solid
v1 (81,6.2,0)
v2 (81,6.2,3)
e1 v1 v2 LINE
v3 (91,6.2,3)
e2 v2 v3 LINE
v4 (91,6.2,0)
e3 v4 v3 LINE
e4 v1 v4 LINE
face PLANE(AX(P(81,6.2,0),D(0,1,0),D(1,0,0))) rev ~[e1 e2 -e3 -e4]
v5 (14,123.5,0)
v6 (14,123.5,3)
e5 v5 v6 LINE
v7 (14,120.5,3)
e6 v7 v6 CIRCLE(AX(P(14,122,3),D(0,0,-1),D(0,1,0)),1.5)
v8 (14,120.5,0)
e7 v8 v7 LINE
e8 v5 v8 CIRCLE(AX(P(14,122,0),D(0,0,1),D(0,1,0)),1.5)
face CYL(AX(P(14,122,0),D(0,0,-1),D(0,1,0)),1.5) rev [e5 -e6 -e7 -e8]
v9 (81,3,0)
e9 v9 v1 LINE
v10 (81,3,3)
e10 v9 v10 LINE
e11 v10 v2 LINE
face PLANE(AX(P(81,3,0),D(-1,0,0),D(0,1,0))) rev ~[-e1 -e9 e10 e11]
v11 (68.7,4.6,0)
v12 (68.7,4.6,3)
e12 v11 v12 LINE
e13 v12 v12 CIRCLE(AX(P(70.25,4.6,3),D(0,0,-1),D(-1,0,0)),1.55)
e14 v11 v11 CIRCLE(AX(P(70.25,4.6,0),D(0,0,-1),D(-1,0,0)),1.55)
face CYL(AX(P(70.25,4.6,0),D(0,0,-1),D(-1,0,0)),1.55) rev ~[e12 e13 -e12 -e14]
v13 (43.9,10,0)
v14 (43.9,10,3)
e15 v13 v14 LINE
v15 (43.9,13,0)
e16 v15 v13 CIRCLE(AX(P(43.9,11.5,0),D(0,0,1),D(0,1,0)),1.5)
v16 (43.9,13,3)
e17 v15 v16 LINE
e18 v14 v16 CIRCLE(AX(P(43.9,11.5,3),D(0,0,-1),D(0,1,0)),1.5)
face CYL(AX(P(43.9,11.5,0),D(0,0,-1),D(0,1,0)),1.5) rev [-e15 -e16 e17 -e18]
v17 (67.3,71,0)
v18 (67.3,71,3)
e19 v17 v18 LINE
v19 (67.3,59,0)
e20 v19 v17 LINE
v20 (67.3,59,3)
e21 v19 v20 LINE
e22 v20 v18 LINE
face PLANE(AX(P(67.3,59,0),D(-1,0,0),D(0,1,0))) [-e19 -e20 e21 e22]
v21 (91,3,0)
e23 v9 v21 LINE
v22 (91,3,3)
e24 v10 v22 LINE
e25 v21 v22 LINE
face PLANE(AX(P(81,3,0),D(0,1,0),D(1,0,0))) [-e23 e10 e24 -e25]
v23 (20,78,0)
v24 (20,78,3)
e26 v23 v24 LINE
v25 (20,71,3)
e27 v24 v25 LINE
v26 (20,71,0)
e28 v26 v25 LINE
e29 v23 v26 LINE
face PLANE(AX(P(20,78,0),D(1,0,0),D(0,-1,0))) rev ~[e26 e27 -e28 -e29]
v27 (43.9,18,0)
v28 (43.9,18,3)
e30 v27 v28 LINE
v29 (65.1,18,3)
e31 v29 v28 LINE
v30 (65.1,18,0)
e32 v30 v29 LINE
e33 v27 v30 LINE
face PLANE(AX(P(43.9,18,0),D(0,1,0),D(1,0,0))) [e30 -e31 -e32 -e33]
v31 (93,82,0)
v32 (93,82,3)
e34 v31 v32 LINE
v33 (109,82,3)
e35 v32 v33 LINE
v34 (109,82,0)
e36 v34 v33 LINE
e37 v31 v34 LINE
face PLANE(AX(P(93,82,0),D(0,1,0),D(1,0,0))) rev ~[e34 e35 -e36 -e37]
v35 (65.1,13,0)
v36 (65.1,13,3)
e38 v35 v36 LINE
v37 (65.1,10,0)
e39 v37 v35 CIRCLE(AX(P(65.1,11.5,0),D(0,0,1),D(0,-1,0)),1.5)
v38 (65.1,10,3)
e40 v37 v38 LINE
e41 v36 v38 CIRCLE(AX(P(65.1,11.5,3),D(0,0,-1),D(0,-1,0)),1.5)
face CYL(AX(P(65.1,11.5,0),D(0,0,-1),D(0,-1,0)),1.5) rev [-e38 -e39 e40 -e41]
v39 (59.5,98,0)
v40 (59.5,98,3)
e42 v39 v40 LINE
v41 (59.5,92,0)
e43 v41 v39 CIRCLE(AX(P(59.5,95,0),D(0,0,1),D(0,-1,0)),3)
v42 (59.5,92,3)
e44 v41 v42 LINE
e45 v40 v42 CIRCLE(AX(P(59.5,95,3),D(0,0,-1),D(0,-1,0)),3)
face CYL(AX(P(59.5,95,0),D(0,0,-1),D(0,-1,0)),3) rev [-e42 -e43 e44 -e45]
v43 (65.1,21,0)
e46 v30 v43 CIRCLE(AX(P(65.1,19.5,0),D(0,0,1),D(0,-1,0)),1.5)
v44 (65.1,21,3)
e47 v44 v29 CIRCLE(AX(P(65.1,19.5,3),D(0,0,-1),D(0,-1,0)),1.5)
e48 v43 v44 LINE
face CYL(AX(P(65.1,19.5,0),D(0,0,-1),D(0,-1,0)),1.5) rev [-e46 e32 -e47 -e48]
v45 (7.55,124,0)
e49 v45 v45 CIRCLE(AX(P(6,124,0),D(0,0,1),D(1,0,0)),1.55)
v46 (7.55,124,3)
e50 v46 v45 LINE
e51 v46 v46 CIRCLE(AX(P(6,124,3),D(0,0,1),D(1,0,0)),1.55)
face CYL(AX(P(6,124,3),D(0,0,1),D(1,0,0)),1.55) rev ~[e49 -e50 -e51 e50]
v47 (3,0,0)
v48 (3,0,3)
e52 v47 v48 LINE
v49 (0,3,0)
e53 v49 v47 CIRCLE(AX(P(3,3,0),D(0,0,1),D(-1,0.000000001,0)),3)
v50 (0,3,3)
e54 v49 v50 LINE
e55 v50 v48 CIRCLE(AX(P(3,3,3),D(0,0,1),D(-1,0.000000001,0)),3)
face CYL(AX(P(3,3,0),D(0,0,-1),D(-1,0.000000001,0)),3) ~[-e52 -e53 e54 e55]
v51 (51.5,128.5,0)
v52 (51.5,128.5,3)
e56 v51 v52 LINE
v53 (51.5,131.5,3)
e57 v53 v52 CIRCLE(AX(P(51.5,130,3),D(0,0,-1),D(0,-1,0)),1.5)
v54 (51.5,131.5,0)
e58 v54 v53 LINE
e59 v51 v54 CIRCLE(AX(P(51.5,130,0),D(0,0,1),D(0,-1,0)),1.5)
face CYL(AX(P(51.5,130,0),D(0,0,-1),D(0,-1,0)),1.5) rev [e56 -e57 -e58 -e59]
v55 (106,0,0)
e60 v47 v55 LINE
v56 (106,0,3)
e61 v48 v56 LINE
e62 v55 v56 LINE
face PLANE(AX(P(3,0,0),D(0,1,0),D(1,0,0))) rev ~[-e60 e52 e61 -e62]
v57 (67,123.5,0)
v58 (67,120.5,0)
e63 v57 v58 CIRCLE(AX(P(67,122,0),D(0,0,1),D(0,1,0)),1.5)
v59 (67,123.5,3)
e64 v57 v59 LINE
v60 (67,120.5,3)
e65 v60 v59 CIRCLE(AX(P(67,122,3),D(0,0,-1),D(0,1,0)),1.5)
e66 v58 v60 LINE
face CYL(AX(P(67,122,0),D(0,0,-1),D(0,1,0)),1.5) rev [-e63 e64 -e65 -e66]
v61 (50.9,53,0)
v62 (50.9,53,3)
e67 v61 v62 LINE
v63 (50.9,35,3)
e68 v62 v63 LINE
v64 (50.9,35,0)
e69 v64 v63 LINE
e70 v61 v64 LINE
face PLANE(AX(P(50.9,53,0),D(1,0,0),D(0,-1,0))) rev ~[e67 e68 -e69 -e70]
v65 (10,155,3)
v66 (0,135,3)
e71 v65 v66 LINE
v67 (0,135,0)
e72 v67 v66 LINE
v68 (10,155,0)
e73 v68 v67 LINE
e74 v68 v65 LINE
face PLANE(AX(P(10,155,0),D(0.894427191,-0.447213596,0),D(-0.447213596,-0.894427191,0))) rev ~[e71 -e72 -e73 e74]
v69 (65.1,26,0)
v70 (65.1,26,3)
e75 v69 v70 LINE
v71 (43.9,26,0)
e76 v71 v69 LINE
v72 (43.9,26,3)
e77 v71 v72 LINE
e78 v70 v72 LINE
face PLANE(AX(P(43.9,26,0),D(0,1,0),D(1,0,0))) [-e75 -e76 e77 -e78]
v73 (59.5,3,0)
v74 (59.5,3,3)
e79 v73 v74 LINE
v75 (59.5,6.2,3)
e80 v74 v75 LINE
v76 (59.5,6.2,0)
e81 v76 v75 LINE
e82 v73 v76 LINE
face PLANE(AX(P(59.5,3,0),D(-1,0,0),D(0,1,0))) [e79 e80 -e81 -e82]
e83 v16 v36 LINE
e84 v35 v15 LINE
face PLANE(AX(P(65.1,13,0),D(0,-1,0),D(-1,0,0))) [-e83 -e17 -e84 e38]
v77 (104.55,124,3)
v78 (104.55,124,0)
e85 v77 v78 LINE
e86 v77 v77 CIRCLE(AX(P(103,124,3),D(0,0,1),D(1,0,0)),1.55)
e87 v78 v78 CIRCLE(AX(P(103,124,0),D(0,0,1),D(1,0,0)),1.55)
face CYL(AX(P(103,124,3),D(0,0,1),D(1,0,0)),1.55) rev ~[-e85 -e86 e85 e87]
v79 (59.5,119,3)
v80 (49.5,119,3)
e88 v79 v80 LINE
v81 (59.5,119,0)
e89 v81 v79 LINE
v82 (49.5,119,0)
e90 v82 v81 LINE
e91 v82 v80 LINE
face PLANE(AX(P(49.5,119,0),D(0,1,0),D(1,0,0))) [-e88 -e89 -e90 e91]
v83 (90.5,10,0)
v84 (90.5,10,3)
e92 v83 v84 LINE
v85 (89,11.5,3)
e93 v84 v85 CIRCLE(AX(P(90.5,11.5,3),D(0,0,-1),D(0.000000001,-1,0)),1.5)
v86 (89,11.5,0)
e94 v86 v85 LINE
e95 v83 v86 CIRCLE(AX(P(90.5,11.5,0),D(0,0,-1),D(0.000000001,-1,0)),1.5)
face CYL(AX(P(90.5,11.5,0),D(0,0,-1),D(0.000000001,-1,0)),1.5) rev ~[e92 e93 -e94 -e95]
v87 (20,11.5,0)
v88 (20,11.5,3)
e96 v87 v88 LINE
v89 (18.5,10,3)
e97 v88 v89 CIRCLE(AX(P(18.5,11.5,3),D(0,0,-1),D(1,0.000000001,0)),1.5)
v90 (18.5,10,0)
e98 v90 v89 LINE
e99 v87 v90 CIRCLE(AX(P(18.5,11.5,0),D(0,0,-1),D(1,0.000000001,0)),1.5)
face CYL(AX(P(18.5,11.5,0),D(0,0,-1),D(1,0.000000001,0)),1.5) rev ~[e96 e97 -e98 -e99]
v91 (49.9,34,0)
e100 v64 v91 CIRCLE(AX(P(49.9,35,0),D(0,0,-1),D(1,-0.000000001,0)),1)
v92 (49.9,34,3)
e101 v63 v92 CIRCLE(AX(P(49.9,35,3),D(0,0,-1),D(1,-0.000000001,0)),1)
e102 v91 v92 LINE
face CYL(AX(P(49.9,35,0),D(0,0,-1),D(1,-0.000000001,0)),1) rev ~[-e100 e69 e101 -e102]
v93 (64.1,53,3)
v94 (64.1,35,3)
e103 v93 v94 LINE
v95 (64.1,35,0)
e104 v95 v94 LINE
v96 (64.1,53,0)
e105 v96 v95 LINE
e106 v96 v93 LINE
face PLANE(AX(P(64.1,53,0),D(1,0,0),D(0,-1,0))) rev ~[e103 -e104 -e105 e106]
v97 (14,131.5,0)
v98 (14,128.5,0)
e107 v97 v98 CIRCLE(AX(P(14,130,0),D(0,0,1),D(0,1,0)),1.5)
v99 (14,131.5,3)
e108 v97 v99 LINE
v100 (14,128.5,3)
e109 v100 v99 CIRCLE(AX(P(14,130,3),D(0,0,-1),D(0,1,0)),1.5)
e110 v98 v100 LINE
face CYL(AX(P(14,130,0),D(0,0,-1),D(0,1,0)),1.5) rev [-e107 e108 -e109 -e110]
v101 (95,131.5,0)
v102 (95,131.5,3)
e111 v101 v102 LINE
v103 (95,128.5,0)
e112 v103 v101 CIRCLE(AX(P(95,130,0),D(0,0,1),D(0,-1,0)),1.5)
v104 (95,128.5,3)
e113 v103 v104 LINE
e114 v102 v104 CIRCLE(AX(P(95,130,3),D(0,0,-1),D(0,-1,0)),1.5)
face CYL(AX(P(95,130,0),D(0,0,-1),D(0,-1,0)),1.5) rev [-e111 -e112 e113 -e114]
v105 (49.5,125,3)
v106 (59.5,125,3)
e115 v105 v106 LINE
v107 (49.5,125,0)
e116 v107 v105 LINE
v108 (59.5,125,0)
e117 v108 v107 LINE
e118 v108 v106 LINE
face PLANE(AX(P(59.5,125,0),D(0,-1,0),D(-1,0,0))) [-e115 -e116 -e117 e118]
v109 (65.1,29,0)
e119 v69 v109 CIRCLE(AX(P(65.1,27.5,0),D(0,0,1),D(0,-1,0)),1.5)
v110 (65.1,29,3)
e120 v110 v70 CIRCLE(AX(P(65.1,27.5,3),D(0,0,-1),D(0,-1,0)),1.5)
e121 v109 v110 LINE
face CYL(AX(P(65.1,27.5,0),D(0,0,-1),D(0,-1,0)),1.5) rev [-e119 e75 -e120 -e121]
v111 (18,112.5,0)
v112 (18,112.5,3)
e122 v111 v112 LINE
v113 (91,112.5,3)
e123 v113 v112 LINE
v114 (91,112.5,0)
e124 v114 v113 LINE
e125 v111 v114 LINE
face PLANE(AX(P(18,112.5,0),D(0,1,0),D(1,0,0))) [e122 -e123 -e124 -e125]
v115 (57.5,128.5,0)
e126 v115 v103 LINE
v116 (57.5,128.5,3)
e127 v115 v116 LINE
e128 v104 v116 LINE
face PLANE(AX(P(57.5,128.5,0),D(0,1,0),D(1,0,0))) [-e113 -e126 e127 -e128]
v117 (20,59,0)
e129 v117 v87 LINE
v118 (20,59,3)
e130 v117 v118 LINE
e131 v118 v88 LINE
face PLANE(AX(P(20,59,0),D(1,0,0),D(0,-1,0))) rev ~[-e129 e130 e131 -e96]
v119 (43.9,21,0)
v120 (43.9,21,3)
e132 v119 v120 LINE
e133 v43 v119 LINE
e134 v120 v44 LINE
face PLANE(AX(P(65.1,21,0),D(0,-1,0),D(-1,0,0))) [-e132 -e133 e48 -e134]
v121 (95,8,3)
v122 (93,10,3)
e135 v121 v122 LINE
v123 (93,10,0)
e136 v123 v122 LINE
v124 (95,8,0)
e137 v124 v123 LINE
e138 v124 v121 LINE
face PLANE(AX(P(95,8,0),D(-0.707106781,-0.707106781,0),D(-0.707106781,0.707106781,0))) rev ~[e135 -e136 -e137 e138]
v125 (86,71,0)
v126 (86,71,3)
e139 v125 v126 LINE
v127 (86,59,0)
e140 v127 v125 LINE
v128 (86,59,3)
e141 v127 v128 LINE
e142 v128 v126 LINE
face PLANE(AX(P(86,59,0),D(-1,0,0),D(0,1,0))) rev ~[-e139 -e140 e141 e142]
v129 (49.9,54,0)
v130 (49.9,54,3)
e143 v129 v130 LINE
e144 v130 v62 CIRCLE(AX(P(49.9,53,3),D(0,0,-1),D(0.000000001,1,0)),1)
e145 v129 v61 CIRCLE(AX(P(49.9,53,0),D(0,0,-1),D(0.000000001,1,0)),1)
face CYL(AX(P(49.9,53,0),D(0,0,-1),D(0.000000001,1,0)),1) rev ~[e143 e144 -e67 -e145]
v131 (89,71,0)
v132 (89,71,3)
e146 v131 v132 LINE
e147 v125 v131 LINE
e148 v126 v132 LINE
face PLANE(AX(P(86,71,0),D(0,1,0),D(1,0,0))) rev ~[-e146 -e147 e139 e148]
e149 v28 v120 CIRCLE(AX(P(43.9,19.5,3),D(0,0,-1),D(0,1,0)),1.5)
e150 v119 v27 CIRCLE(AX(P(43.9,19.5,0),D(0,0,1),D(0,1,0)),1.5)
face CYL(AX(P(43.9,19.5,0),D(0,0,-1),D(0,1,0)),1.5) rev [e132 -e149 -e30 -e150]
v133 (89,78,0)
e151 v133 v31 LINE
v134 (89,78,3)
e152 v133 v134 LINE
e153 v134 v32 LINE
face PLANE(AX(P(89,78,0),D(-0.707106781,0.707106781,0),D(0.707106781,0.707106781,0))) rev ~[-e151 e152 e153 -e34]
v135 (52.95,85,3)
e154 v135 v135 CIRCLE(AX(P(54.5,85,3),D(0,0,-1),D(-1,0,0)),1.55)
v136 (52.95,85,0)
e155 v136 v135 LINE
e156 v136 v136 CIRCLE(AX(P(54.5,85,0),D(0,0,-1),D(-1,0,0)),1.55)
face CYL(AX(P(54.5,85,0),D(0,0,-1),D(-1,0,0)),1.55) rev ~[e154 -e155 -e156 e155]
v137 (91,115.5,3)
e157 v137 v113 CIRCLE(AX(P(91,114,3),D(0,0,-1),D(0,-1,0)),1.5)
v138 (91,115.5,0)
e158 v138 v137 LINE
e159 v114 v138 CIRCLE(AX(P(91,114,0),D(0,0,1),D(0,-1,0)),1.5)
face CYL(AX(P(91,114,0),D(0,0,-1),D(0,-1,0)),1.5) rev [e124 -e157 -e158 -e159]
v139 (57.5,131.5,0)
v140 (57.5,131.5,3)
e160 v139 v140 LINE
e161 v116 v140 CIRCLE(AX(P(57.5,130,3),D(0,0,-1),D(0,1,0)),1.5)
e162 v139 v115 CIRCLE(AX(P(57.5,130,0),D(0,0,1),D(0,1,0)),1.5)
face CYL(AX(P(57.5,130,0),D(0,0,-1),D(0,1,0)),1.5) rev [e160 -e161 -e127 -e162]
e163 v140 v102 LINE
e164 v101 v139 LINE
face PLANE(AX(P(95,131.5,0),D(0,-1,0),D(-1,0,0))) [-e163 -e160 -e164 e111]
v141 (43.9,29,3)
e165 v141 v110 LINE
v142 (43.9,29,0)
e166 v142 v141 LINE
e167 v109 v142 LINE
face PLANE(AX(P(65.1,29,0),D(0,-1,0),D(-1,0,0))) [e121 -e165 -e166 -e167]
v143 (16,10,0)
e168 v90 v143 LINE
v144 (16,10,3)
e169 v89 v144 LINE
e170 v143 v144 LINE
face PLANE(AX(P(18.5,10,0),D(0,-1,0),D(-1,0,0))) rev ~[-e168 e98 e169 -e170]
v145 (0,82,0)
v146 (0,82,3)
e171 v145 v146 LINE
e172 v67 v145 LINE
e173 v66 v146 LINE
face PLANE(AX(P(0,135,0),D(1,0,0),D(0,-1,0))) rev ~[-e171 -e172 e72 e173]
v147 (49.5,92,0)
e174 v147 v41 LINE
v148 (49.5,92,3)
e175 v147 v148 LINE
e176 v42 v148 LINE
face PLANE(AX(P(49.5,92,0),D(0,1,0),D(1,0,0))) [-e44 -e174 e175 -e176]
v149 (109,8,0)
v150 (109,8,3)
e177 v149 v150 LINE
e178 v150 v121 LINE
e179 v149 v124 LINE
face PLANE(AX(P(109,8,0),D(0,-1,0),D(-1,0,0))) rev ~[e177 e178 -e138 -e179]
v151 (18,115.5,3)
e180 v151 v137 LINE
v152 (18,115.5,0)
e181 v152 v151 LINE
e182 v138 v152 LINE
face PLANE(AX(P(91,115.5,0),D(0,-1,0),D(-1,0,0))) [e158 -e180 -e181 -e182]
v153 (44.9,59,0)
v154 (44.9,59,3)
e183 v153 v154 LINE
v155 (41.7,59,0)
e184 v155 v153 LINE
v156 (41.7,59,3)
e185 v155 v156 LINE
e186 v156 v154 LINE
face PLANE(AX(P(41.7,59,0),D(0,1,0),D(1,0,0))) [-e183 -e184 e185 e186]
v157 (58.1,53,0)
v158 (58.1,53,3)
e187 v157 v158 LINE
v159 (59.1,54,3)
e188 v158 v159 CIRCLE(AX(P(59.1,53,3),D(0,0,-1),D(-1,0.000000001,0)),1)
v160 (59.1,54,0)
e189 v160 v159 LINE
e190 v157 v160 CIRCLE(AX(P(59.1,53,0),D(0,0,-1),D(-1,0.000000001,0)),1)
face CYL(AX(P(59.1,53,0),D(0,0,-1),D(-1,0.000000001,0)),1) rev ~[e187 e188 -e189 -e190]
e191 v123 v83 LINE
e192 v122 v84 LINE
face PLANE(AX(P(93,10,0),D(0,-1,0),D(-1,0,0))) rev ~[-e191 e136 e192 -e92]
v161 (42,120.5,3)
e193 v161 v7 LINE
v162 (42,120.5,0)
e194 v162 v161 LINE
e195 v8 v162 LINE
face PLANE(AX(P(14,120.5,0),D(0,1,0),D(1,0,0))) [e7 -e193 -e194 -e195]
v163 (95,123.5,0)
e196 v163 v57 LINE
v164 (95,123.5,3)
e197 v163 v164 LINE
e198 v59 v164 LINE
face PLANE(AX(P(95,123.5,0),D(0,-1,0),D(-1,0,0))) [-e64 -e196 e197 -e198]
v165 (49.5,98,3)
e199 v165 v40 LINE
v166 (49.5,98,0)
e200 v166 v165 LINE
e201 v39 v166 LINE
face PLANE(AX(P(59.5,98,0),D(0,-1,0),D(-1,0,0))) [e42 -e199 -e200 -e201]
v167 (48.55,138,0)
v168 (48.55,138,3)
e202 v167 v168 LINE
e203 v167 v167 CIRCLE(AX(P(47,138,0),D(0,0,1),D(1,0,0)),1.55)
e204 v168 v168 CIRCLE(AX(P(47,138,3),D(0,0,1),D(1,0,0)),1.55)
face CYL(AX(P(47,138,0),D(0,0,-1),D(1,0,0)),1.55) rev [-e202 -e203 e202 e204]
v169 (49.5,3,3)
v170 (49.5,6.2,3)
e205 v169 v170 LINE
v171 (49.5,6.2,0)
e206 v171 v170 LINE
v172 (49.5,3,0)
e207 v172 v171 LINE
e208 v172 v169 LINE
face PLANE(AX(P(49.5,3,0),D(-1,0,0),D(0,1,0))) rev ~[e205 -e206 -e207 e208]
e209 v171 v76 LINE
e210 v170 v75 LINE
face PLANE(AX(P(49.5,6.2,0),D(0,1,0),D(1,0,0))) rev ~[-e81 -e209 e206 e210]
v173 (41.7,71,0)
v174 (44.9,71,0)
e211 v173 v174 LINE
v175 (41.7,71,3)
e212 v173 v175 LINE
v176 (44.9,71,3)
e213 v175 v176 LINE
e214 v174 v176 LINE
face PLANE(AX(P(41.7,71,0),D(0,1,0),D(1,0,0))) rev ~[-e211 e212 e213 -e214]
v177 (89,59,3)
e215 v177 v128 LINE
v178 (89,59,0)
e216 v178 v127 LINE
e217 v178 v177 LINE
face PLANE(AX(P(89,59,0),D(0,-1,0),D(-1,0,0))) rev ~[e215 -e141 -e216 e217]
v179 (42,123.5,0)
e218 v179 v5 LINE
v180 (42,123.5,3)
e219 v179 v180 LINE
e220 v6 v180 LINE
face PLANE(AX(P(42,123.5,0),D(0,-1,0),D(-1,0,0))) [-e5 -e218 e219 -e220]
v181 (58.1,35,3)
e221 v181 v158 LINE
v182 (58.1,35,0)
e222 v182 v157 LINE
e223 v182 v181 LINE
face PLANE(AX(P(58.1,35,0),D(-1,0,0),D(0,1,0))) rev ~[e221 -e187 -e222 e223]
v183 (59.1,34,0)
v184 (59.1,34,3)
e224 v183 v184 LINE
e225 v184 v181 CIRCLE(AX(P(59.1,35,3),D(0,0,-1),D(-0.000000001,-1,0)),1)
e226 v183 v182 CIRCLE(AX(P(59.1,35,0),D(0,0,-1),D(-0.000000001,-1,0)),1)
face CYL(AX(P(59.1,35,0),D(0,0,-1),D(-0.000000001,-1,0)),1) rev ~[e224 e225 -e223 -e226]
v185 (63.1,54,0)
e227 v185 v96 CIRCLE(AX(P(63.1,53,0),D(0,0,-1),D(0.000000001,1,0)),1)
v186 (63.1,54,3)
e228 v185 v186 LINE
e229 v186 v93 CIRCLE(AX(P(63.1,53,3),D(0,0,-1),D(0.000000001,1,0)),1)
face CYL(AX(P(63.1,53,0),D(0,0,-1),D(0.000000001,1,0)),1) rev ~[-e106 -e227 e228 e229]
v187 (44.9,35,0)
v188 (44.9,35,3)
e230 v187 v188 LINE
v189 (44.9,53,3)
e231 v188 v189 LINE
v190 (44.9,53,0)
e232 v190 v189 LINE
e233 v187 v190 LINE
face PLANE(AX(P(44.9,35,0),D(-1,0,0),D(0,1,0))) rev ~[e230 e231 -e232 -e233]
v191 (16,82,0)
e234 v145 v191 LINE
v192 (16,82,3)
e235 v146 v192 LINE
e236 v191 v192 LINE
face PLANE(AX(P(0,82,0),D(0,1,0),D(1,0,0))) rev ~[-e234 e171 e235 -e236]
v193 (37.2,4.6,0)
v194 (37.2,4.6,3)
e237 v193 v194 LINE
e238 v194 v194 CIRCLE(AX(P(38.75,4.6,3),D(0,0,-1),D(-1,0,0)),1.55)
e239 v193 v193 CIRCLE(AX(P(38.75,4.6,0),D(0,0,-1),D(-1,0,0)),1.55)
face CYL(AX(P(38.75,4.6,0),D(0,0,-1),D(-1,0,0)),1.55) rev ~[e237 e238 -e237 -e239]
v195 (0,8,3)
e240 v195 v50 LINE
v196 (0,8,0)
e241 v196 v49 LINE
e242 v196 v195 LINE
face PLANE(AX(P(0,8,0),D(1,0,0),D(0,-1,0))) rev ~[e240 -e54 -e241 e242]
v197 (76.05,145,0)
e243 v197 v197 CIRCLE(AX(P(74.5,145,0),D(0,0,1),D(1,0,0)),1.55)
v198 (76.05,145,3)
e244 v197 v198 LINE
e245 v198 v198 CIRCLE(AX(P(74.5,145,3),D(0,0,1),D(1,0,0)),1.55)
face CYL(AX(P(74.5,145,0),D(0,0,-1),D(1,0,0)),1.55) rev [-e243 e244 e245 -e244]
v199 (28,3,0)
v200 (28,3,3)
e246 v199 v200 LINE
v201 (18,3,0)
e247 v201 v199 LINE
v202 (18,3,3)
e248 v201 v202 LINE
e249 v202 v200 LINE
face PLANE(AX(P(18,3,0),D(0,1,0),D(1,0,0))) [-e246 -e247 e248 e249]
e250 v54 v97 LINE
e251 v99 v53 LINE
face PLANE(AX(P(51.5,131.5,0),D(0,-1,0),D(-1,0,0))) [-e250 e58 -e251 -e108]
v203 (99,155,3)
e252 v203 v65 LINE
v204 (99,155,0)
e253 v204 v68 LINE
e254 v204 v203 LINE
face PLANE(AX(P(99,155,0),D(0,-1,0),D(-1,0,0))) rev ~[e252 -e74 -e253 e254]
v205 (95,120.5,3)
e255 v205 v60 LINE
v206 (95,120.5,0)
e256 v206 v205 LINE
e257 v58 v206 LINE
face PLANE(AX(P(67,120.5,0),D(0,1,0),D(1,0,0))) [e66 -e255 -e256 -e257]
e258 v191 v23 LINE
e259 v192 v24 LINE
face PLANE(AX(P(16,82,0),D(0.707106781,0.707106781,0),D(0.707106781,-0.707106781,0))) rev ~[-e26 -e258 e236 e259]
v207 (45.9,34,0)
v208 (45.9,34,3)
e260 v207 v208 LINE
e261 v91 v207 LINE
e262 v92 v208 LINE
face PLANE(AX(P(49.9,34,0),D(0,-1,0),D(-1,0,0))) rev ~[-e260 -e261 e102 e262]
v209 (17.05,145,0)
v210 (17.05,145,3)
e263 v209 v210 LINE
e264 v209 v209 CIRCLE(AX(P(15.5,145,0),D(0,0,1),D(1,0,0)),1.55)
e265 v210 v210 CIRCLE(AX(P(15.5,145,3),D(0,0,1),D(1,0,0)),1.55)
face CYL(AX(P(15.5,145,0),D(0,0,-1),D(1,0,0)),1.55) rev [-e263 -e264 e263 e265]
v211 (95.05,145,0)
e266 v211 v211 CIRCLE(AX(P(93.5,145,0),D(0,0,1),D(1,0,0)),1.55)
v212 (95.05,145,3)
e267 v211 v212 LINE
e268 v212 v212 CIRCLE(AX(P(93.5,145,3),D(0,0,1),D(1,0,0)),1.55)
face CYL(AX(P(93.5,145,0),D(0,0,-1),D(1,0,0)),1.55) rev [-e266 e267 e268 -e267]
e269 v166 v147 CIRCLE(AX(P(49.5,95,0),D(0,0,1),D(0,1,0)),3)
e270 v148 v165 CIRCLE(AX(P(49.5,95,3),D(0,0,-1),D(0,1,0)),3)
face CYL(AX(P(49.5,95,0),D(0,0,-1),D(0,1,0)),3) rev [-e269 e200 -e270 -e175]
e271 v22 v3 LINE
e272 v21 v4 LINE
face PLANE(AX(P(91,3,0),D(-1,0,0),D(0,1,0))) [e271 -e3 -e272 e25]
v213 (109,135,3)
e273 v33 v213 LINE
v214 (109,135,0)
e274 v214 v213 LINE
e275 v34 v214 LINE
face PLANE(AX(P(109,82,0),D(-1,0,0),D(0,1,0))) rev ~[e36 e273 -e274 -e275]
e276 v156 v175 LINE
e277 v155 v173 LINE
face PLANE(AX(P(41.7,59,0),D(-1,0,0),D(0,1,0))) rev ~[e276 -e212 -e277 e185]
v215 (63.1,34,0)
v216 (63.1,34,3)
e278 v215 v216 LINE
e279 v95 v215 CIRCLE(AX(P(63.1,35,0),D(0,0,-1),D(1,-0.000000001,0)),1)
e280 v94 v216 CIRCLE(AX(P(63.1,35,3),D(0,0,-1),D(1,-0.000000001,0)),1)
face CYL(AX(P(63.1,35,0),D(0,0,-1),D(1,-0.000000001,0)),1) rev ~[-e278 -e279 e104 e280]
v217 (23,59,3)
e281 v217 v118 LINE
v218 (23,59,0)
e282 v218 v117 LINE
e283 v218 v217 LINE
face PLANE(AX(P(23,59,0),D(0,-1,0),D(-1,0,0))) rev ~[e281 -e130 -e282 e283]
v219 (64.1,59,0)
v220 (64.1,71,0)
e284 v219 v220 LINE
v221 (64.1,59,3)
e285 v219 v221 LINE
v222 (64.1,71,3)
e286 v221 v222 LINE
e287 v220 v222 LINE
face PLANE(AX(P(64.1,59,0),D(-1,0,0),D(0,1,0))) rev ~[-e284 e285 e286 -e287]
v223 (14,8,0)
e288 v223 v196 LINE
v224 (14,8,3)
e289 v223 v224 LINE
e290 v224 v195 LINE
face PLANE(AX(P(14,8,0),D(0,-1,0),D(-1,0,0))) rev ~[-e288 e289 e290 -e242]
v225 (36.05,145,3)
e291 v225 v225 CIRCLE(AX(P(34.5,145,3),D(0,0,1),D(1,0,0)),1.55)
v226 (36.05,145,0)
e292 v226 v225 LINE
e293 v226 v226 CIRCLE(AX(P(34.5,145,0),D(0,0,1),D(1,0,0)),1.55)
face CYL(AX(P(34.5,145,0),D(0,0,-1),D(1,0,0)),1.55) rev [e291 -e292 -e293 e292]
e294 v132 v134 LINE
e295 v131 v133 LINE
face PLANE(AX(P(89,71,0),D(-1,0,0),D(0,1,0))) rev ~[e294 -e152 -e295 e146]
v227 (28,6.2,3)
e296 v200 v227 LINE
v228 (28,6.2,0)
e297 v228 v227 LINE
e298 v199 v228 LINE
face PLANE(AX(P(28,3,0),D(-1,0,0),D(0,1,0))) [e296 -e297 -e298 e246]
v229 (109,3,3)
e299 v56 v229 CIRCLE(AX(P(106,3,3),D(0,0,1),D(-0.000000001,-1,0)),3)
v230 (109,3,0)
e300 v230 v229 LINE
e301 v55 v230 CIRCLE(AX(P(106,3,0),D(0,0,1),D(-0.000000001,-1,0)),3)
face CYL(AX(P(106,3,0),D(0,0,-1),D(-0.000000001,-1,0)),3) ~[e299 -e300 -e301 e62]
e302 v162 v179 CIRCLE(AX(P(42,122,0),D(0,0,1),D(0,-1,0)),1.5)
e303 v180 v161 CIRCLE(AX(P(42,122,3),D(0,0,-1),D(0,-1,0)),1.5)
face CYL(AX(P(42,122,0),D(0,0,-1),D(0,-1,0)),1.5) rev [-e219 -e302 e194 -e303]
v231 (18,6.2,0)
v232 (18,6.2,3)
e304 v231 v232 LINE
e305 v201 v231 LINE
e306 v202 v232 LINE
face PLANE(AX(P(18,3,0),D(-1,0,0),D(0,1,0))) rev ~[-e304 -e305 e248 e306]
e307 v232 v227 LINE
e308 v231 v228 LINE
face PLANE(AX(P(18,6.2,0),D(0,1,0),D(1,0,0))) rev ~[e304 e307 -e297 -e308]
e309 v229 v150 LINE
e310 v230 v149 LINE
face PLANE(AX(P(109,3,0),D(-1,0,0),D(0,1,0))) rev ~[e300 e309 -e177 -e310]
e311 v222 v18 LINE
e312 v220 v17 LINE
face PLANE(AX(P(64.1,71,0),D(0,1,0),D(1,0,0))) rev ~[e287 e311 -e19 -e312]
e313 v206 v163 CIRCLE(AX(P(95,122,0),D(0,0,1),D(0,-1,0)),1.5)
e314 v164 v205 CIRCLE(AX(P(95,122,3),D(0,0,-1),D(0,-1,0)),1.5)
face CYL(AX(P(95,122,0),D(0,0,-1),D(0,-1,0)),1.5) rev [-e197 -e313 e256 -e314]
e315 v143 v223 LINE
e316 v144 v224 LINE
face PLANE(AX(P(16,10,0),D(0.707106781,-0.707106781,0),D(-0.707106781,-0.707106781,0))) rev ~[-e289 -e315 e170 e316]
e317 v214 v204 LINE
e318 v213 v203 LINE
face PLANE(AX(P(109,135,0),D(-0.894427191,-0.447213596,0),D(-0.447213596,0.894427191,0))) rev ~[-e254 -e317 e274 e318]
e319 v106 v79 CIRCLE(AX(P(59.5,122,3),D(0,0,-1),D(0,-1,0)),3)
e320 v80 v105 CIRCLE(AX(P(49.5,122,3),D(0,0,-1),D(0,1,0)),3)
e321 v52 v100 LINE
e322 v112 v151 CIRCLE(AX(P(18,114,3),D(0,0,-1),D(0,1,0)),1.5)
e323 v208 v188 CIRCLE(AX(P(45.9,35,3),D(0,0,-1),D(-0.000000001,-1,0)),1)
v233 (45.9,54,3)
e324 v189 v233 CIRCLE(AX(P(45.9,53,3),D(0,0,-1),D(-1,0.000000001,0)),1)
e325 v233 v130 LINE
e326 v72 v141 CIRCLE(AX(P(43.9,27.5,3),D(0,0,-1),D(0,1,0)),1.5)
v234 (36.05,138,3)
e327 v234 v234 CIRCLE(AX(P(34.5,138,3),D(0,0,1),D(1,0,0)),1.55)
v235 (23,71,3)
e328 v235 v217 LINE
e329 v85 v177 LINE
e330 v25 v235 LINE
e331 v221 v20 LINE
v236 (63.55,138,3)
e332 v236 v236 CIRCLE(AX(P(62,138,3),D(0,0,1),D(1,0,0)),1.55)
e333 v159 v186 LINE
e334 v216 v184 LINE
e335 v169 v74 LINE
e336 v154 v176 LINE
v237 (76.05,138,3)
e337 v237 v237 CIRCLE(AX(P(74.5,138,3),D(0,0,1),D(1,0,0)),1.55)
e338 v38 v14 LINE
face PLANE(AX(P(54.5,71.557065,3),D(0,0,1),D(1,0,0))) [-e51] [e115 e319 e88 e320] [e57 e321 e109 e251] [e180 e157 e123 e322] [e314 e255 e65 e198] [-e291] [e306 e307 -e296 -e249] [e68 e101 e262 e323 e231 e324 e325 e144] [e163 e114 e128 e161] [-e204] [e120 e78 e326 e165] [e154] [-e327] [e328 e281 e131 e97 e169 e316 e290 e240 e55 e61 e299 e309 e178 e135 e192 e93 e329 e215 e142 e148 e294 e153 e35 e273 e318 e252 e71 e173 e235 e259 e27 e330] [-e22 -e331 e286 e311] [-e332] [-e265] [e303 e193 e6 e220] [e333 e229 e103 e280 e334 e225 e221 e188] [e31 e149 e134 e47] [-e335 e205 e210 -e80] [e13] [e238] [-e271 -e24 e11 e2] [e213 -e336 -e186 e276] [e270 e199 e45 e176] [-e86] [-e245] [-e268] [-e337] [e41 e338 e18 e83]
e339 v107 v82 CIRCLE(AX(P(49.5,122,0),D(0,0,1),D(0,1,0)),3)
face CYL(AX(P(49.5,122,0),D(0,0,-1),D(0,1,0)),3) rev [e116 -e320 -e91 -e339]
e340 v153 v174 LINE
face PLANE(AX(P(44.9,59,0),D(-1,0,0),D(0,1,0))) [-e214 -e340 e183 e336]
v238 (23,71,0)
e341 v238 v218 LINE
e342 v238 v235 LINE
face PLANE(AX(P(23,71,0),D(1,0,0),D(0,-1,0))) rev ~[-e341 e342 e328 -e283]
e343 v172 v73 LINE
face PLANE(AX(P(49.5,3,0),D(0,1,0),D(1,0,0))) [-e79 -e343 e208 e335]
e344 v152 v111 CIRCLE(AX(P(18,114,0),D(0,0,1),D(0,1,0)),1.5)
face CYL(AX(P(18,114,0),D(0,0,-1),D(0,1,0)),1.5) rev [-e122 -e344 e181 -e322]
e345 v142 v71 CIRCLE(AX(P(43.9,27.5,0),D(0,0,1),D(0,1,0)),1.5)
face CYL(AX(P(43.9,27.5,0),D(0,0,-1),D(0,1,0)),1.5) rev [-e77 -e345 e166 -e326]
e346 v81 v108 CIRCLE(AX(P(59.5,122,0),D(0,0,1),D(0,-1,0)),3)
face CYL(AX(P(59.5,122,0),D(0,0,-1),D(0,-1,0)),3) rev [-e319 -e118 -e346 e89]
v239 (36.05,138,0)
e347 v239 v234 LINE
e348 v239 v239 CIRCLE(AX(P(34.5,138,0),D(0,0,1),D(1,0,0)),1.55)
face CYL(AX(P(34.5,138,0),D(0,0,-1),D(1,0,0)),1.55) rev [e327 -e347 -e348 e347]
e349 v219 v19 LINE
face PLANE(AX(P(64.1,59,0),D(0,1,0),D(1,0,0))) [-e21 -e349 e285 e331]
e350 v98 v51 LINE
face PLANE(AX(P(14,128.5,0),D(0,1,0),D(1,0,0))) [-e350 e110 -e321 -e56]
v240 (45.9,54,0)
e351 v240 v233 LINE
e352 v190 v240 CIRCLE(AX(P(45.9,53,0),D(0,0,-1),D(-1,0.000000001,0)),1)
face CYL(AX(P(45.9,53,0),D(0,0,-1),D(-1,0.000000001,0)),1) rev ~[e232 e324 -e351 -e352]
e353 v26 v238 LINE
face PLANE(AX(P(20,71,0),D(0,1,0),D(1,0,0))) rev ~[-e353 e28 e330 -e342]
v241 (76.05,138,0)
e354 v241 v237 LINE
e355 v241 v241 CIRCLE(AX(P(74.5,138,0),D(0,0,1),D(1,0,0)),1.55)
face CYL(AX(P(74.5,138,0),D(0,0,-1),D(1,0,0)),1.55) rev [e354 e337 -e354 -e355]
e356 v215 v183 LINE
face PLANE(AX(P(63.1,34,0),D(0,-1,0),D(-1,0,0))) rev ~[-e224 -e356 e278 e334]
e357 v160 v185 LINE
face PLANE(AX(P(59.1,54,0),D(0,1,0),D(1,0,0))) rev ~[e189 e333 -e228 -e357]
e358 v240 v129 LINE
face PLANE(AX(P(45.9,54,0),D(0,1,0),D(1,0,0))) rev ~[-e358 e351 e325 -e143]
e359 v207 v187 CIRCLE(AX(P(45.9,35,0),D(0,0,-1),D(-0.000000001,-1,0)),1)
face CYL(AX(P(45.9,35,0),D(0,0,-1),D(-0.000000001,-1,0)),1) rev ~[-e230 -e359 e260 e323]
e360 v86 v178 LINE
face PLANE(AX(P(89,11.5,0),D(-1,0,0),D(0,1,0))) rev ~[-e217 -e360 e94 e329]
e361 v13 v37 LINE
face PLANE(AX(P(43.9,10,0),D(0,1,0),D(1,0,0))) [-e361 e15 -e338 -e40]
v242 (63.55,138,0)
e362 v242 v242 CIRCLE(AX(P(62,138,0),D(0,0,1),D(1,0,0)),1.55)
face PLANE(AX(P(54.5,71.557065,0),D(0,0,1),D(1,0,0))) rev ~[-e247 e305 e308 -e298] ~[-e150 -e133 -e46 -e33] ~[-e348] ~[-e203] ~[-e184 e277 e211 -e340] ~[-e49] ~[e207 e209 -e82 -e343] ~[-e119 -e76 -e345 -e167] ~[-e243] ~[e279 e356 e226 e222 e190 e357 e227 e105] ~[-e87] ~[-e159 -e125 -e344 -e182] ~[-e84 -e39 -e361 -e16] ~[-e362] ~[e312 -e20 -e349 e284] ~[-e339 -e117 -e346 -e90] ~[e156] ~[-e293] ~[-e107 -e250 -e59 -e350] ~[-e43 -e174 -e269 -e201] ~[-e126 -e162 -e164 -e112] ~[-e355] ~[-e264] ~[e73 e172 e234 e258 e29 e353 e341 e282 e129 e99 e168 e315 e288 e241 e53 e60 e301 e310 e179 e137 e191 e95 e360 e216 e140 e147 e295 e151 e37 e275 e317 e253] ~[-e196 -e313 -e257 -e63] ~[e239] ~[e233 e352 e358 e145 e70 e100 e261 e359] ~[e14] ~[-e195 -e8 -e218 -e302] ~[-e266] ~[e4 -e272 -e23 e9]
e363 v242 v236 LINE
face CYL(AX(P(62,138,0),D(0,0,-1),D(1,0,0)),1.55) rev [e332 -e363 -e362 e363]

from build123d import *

# Parameters (mm, degrees)
ESBO_O1_R                = 1.55
ESBO_O1_W                = 3.2
ESBO_O1_H                = 12
ESBO_O1_W_2              = 10
ESBO_O1_H_2              = 3.2
RESSALTO_EXTRUS_O1_DEPTH = 3
ESBO_O2_R                = 1.55
CORTE_EXTRUS_O1_DEPTH    = 10
ESBO_O3_R                = 1.55
CORTE_EXTRUS_O2_DEPTH    = 190.512532567
CORTE_EXTRUS_O5_DEPTH    = 10


with BuildPart() as part:
    # Esboço1 → Ressalto-extrusão1 (new body)
    with BuildSketch(Plane.XY):
        with BuildLine():
            Line((0, 82), (16, 82))
            Line((16, 82), (20, 78))
            Line((20, 78), (20, 71))
            Line((20, 71), (23, 71))
            Line((23, 71), (23, 59))
            Line((23, 59), (20, 59))
            Line((20, 59), (20, 11.5))
            ThreePointArc((20, 11.5), (19.560660172, 10.439339828), (18.5, 10))
            Line((18.5, 10), (16, 10))
            Line((16, 10), (14, 8))
            Line((14, 8), (0, 8))
            Line((0, 8), (0, 3))
            ThreePointArc((0, 3), (0.878679656, 0.878679656), (3, 0))
            Line((3, 0), (106, 0))
            ThreePointArc((106, 0), (108.121320344, 0.878679656), (109, 3))
            Line((109, 3), (109, 8))
            Line((109, 8), (95, 8))
            Line((95, 8), (93, 10))
            Line((93, 10), (90.5, 10))
            ThreePointArc((90.5, 10), (89.439339828, 10.439339828), (89, 11.5))
            Line((89, 11.5), (89, 59))
            Line((89, 59), (86, 59))
            Line((86, 59), (86, 71))
            Line((86, 71), (89, 71))
            Line((89, 71), (89, 78))
            Line((89, 78), (93, 82))
            Line((93, 82), (109, 82))
            Line((109, 82), (109, 135))
            Line((109, 135), (99, 155))
            Line((99, 155), (10, 155))
            Line((10, 155), (0, 135))
            Line((0, 135), (0, 82))
        make_face()
        with Locations((47, 138)):
            Circle(ESBO_O1_R, mode=Mode.SUBTRACT)
        with Locations((62, 138)):
            Circle(ESBO_O1_R, mode=Mode.SUBTRACT)
        with Locations((74.5, 138)):
            Circle(ESBO_O1_R, mode=Mode.SUBTRACT)
        with Locations((34.5, 138)):
            Circle(ESBO_O1_R, mode=Mode.SUBTRACT)
        with Locations((74.5, 145)):
            Circle(ESBO_O1_R, mode=Mode.SUBTRACT)
        with Locations((93.5, 145)):
            Circle(ESBO_O1_R, mode=Mode.SUBTRACT)
        with Locations((15.5, 145)):
            Circle(ESBO_O1_R, mode=Mode.SUBTRACT)
        with Locations((34.5, 145)):
            Circle(ESBO_O1_R, mode=Mode.SUBTRACT)
        with BuildLine():
            Line((59.1, 54), (63.1, 54))
            ThreePointArc((63.1, 54), (63.807106781, 53.707106781), (64.1, 53))
            Line((64.1, 53), (64.1, 35))
            ThreePointArc((64.1, 35), (63.807106781, 34.292893219), (63.1, 34))
            Line((63.1, 34), (59.1, 34))
            ThreePointArc((59.1, 34), (58.392893219, 34.292893219), (58.1, 35))
            Line((58.1, 35), (58.1, 53))
            ThreePointArc((58.1, 53), (58.392893219, 53.707106781), (59.1, 54))
        make_face(mode=Mode.SUBTRACT)
        with Locations((43.3, 65)):
            Rectangle(ESBO_O1_W, ESBO_O1_H, mode=Mode.SUBTRACT)
        with Locations((65.7, 65)):
            Rectangle(ESBO_O1_W, ESBO_O1_H, mode=Mode.SUBTRACT)
        with BuildLine():
            Line((45.9, 54), (49.9, 54))
            ThreePointArc((49.9, 54), (50.607106781, 53.707106781), (50.9, 53))
            Line((50.9, 53), (50.9, 35))
            ThreePointArc((50.9, 35), (50.607106781, 34.292893219), (49.9, 34))
            Line((49.9, 34), (45.9, 34))
            ThreePointArc((45.9, 34), (45.192893219, 34.292893219), (44.9, 35))
            Line((44.9, 35), (44.9, 53))
            ThreePointArc((44.9, 53), (45.192893219, 53.707106781), (45.9, 54))
        make_face(mode=Mode.SUBTRACT)
        with Locations((86, 4.6)):
            Rectangle(ESBO_O1_W_2, ESBO_O1_H_2, mode=Mode.SUBTRACT)
        with Locations((54.5, 4.6)):
            Rectangle(ESBO_O1_W_2, ESBO_O1_H_2, mode=Mode.SUBTRACT)
        with Locations((23, 4.6)):
            Rectangle(ESBO_O1_W_2, ESBO_O1_H_2, mode=Mode.SUBTRACT)
    extrude(amount=RESSALTO_EXTRUS_O1_DEPTH)

    # Esboço2 → Corte-extrusão1 (cut)
    with BuildSketch(Plane(origin=(0, 0, 0), x_dir=(-1, 0, 0), z_dir=(0, 0, -1))):
        with Locations((-54.5, 85)):
            Circle(ESBO_O2_R)
        with Locations((-70.25, 4.6)):
            Circle(ESBO_O2_R)
        with Locations((-38.75, 4.6)):
            Circle(ESBO_O2_R)
    extrude(amount=-CORTE_EXTRUS_O1_DEPTH, mode=Mode.SUBTRACT)

    # Esboço3 → Corte-extrusão2 (cut, through all)
    with BuildSketch(Plane.XY.offset(3)):
        with Locations((6, 124)):
            Circle(ESBO_O3_R)
        with Locations((103, 124)):
            Circle(ESBO_O3_R)
    extrude(amount=-CORTE_EXTRUS_O2_DEPTH, mode=Mode.SUBTRACT)

    # Esboço5 → Corte-extrusão5 (cut)
    with BuildSketch(Plane(origin=(0, 0, 0), x_dir=(-1, 0, 0), z_dir=(0, 0, -1))):
        with BuildLine():
            Line((-95, 131.5), (-57.5, 131.5))
            ThreePointArc((-57.5, 131.5), (-56, 130), (-57.5, 128.5))
            Line((-57.5, 128.5), (-95, 128.5))
            ThreePointArc((-95, 128.5), (-96.5, 130), (-95, 131.5))
        make_face()
        with BuildLine():
            Line((-51.5, 131.5), (-14, 131.5))
            ThreePointArc((-14, 131.5), (-12.5, 130), (-14, 128.5))
            Line((-14, 128.5), (-51.5, 128.5))
            ThreePointArc((-51.5, 128.5), (-53, 130), (-51.5, 131.5))
        make_face()
        with BuildLine():
            Line((-59.5, 125), (-49.5, 125))
            ThreePointArc((-49.5, 125), (-46.5, 122), (-49.5, 119))
            Line((-49.5, 119), (-59.5, 119))
            ThreePointArc((-59.5, 119), (-62.5, 122), (-59.5, 125))
        make_face()
        with BuildLine():
            Line((-95, 123.5), (-67, 123.5))
            ThreePointArc((-67, 123.5), (-65.5, 122), (-67, 120.5))
            Line((-67, 120.5), (-95, 120.5))
            ThreePointArc((-95, 120.5), (-96.5, 122), (-95, 123.5))
        make_face()
        with BuildLine():
            Line((-42, 123.5), (-14, 123.5))
            ThreePointArc((-14, 123.5), (-12.5, 122), (-14, 120.5))
            Line((-14, 120.5), (-42, 120.5))
            ThreePointArc((-42, 120.5), (-43.5, 122), (-42, 123.5))
        make_face()
        with BuildLine():
            Line((-91, 115.5), (-18, 115.5))
            ThreePointArc((-18, 115.5), (-16.5, 114), (-18, 112.5))
            Line((-18, 112.5), (-91, 112.5))
            ThreePointArc((-91, 112.5), (-92.5, 114), (-91, 115.5))
        make_face()
        with BuildLine():
            Line((-59.5, 98), (-49.5, 98))
            ThreePointArc((-49.5, 98), (-46.5, 95), (-49.5, 92))
            Line((-49.5, 92), (-59.5, 92))
            ThreePointArc((-59.5, 92), (-62.5, 95), (-59.5, 98))
        make_face()
        with BuildLine():
            Line((-65.1, 13), (-43.9, 13))
            ThreePointArc((-43.9, 13), (-42.4, 11.5), (-43.9, 10))
            Line((-43.9, 10), (-65.1, 10))
            ThreePointArc((-65.1, 10), (-66.6, 11.5), (-65.1, 13))
        make_face()
        with BuildLine():
            Line((-65.1, 21), (-43.9, 21))
            ThreePointArc((-43.9, 21), (-42.4, 19.5), (-43.9, 18))
            Line((-43.9, 18), (-65.1, 18))
            ThreePointArc((-65.1, 18), (-66.6, 19.5), (-65.1, 21))
        make_face()
        with BuildLine():
            Line((-65.1, 29), (-43.9, 29))
            ThreePointArc((-43.9, 29), (-42.4, 27.5), (-43.9, 26))
            Line((-43.9, 26), (-65.1, 26))
            ThreePointArc((-65.1, 26), (-66.6, 27.5), (-65.1, 29))
        make_face()
    extrude(amount=-CORTE_EXTRUS_O5_DEPTH, mode=Mode.SUBTRACT)


solid = part.part
